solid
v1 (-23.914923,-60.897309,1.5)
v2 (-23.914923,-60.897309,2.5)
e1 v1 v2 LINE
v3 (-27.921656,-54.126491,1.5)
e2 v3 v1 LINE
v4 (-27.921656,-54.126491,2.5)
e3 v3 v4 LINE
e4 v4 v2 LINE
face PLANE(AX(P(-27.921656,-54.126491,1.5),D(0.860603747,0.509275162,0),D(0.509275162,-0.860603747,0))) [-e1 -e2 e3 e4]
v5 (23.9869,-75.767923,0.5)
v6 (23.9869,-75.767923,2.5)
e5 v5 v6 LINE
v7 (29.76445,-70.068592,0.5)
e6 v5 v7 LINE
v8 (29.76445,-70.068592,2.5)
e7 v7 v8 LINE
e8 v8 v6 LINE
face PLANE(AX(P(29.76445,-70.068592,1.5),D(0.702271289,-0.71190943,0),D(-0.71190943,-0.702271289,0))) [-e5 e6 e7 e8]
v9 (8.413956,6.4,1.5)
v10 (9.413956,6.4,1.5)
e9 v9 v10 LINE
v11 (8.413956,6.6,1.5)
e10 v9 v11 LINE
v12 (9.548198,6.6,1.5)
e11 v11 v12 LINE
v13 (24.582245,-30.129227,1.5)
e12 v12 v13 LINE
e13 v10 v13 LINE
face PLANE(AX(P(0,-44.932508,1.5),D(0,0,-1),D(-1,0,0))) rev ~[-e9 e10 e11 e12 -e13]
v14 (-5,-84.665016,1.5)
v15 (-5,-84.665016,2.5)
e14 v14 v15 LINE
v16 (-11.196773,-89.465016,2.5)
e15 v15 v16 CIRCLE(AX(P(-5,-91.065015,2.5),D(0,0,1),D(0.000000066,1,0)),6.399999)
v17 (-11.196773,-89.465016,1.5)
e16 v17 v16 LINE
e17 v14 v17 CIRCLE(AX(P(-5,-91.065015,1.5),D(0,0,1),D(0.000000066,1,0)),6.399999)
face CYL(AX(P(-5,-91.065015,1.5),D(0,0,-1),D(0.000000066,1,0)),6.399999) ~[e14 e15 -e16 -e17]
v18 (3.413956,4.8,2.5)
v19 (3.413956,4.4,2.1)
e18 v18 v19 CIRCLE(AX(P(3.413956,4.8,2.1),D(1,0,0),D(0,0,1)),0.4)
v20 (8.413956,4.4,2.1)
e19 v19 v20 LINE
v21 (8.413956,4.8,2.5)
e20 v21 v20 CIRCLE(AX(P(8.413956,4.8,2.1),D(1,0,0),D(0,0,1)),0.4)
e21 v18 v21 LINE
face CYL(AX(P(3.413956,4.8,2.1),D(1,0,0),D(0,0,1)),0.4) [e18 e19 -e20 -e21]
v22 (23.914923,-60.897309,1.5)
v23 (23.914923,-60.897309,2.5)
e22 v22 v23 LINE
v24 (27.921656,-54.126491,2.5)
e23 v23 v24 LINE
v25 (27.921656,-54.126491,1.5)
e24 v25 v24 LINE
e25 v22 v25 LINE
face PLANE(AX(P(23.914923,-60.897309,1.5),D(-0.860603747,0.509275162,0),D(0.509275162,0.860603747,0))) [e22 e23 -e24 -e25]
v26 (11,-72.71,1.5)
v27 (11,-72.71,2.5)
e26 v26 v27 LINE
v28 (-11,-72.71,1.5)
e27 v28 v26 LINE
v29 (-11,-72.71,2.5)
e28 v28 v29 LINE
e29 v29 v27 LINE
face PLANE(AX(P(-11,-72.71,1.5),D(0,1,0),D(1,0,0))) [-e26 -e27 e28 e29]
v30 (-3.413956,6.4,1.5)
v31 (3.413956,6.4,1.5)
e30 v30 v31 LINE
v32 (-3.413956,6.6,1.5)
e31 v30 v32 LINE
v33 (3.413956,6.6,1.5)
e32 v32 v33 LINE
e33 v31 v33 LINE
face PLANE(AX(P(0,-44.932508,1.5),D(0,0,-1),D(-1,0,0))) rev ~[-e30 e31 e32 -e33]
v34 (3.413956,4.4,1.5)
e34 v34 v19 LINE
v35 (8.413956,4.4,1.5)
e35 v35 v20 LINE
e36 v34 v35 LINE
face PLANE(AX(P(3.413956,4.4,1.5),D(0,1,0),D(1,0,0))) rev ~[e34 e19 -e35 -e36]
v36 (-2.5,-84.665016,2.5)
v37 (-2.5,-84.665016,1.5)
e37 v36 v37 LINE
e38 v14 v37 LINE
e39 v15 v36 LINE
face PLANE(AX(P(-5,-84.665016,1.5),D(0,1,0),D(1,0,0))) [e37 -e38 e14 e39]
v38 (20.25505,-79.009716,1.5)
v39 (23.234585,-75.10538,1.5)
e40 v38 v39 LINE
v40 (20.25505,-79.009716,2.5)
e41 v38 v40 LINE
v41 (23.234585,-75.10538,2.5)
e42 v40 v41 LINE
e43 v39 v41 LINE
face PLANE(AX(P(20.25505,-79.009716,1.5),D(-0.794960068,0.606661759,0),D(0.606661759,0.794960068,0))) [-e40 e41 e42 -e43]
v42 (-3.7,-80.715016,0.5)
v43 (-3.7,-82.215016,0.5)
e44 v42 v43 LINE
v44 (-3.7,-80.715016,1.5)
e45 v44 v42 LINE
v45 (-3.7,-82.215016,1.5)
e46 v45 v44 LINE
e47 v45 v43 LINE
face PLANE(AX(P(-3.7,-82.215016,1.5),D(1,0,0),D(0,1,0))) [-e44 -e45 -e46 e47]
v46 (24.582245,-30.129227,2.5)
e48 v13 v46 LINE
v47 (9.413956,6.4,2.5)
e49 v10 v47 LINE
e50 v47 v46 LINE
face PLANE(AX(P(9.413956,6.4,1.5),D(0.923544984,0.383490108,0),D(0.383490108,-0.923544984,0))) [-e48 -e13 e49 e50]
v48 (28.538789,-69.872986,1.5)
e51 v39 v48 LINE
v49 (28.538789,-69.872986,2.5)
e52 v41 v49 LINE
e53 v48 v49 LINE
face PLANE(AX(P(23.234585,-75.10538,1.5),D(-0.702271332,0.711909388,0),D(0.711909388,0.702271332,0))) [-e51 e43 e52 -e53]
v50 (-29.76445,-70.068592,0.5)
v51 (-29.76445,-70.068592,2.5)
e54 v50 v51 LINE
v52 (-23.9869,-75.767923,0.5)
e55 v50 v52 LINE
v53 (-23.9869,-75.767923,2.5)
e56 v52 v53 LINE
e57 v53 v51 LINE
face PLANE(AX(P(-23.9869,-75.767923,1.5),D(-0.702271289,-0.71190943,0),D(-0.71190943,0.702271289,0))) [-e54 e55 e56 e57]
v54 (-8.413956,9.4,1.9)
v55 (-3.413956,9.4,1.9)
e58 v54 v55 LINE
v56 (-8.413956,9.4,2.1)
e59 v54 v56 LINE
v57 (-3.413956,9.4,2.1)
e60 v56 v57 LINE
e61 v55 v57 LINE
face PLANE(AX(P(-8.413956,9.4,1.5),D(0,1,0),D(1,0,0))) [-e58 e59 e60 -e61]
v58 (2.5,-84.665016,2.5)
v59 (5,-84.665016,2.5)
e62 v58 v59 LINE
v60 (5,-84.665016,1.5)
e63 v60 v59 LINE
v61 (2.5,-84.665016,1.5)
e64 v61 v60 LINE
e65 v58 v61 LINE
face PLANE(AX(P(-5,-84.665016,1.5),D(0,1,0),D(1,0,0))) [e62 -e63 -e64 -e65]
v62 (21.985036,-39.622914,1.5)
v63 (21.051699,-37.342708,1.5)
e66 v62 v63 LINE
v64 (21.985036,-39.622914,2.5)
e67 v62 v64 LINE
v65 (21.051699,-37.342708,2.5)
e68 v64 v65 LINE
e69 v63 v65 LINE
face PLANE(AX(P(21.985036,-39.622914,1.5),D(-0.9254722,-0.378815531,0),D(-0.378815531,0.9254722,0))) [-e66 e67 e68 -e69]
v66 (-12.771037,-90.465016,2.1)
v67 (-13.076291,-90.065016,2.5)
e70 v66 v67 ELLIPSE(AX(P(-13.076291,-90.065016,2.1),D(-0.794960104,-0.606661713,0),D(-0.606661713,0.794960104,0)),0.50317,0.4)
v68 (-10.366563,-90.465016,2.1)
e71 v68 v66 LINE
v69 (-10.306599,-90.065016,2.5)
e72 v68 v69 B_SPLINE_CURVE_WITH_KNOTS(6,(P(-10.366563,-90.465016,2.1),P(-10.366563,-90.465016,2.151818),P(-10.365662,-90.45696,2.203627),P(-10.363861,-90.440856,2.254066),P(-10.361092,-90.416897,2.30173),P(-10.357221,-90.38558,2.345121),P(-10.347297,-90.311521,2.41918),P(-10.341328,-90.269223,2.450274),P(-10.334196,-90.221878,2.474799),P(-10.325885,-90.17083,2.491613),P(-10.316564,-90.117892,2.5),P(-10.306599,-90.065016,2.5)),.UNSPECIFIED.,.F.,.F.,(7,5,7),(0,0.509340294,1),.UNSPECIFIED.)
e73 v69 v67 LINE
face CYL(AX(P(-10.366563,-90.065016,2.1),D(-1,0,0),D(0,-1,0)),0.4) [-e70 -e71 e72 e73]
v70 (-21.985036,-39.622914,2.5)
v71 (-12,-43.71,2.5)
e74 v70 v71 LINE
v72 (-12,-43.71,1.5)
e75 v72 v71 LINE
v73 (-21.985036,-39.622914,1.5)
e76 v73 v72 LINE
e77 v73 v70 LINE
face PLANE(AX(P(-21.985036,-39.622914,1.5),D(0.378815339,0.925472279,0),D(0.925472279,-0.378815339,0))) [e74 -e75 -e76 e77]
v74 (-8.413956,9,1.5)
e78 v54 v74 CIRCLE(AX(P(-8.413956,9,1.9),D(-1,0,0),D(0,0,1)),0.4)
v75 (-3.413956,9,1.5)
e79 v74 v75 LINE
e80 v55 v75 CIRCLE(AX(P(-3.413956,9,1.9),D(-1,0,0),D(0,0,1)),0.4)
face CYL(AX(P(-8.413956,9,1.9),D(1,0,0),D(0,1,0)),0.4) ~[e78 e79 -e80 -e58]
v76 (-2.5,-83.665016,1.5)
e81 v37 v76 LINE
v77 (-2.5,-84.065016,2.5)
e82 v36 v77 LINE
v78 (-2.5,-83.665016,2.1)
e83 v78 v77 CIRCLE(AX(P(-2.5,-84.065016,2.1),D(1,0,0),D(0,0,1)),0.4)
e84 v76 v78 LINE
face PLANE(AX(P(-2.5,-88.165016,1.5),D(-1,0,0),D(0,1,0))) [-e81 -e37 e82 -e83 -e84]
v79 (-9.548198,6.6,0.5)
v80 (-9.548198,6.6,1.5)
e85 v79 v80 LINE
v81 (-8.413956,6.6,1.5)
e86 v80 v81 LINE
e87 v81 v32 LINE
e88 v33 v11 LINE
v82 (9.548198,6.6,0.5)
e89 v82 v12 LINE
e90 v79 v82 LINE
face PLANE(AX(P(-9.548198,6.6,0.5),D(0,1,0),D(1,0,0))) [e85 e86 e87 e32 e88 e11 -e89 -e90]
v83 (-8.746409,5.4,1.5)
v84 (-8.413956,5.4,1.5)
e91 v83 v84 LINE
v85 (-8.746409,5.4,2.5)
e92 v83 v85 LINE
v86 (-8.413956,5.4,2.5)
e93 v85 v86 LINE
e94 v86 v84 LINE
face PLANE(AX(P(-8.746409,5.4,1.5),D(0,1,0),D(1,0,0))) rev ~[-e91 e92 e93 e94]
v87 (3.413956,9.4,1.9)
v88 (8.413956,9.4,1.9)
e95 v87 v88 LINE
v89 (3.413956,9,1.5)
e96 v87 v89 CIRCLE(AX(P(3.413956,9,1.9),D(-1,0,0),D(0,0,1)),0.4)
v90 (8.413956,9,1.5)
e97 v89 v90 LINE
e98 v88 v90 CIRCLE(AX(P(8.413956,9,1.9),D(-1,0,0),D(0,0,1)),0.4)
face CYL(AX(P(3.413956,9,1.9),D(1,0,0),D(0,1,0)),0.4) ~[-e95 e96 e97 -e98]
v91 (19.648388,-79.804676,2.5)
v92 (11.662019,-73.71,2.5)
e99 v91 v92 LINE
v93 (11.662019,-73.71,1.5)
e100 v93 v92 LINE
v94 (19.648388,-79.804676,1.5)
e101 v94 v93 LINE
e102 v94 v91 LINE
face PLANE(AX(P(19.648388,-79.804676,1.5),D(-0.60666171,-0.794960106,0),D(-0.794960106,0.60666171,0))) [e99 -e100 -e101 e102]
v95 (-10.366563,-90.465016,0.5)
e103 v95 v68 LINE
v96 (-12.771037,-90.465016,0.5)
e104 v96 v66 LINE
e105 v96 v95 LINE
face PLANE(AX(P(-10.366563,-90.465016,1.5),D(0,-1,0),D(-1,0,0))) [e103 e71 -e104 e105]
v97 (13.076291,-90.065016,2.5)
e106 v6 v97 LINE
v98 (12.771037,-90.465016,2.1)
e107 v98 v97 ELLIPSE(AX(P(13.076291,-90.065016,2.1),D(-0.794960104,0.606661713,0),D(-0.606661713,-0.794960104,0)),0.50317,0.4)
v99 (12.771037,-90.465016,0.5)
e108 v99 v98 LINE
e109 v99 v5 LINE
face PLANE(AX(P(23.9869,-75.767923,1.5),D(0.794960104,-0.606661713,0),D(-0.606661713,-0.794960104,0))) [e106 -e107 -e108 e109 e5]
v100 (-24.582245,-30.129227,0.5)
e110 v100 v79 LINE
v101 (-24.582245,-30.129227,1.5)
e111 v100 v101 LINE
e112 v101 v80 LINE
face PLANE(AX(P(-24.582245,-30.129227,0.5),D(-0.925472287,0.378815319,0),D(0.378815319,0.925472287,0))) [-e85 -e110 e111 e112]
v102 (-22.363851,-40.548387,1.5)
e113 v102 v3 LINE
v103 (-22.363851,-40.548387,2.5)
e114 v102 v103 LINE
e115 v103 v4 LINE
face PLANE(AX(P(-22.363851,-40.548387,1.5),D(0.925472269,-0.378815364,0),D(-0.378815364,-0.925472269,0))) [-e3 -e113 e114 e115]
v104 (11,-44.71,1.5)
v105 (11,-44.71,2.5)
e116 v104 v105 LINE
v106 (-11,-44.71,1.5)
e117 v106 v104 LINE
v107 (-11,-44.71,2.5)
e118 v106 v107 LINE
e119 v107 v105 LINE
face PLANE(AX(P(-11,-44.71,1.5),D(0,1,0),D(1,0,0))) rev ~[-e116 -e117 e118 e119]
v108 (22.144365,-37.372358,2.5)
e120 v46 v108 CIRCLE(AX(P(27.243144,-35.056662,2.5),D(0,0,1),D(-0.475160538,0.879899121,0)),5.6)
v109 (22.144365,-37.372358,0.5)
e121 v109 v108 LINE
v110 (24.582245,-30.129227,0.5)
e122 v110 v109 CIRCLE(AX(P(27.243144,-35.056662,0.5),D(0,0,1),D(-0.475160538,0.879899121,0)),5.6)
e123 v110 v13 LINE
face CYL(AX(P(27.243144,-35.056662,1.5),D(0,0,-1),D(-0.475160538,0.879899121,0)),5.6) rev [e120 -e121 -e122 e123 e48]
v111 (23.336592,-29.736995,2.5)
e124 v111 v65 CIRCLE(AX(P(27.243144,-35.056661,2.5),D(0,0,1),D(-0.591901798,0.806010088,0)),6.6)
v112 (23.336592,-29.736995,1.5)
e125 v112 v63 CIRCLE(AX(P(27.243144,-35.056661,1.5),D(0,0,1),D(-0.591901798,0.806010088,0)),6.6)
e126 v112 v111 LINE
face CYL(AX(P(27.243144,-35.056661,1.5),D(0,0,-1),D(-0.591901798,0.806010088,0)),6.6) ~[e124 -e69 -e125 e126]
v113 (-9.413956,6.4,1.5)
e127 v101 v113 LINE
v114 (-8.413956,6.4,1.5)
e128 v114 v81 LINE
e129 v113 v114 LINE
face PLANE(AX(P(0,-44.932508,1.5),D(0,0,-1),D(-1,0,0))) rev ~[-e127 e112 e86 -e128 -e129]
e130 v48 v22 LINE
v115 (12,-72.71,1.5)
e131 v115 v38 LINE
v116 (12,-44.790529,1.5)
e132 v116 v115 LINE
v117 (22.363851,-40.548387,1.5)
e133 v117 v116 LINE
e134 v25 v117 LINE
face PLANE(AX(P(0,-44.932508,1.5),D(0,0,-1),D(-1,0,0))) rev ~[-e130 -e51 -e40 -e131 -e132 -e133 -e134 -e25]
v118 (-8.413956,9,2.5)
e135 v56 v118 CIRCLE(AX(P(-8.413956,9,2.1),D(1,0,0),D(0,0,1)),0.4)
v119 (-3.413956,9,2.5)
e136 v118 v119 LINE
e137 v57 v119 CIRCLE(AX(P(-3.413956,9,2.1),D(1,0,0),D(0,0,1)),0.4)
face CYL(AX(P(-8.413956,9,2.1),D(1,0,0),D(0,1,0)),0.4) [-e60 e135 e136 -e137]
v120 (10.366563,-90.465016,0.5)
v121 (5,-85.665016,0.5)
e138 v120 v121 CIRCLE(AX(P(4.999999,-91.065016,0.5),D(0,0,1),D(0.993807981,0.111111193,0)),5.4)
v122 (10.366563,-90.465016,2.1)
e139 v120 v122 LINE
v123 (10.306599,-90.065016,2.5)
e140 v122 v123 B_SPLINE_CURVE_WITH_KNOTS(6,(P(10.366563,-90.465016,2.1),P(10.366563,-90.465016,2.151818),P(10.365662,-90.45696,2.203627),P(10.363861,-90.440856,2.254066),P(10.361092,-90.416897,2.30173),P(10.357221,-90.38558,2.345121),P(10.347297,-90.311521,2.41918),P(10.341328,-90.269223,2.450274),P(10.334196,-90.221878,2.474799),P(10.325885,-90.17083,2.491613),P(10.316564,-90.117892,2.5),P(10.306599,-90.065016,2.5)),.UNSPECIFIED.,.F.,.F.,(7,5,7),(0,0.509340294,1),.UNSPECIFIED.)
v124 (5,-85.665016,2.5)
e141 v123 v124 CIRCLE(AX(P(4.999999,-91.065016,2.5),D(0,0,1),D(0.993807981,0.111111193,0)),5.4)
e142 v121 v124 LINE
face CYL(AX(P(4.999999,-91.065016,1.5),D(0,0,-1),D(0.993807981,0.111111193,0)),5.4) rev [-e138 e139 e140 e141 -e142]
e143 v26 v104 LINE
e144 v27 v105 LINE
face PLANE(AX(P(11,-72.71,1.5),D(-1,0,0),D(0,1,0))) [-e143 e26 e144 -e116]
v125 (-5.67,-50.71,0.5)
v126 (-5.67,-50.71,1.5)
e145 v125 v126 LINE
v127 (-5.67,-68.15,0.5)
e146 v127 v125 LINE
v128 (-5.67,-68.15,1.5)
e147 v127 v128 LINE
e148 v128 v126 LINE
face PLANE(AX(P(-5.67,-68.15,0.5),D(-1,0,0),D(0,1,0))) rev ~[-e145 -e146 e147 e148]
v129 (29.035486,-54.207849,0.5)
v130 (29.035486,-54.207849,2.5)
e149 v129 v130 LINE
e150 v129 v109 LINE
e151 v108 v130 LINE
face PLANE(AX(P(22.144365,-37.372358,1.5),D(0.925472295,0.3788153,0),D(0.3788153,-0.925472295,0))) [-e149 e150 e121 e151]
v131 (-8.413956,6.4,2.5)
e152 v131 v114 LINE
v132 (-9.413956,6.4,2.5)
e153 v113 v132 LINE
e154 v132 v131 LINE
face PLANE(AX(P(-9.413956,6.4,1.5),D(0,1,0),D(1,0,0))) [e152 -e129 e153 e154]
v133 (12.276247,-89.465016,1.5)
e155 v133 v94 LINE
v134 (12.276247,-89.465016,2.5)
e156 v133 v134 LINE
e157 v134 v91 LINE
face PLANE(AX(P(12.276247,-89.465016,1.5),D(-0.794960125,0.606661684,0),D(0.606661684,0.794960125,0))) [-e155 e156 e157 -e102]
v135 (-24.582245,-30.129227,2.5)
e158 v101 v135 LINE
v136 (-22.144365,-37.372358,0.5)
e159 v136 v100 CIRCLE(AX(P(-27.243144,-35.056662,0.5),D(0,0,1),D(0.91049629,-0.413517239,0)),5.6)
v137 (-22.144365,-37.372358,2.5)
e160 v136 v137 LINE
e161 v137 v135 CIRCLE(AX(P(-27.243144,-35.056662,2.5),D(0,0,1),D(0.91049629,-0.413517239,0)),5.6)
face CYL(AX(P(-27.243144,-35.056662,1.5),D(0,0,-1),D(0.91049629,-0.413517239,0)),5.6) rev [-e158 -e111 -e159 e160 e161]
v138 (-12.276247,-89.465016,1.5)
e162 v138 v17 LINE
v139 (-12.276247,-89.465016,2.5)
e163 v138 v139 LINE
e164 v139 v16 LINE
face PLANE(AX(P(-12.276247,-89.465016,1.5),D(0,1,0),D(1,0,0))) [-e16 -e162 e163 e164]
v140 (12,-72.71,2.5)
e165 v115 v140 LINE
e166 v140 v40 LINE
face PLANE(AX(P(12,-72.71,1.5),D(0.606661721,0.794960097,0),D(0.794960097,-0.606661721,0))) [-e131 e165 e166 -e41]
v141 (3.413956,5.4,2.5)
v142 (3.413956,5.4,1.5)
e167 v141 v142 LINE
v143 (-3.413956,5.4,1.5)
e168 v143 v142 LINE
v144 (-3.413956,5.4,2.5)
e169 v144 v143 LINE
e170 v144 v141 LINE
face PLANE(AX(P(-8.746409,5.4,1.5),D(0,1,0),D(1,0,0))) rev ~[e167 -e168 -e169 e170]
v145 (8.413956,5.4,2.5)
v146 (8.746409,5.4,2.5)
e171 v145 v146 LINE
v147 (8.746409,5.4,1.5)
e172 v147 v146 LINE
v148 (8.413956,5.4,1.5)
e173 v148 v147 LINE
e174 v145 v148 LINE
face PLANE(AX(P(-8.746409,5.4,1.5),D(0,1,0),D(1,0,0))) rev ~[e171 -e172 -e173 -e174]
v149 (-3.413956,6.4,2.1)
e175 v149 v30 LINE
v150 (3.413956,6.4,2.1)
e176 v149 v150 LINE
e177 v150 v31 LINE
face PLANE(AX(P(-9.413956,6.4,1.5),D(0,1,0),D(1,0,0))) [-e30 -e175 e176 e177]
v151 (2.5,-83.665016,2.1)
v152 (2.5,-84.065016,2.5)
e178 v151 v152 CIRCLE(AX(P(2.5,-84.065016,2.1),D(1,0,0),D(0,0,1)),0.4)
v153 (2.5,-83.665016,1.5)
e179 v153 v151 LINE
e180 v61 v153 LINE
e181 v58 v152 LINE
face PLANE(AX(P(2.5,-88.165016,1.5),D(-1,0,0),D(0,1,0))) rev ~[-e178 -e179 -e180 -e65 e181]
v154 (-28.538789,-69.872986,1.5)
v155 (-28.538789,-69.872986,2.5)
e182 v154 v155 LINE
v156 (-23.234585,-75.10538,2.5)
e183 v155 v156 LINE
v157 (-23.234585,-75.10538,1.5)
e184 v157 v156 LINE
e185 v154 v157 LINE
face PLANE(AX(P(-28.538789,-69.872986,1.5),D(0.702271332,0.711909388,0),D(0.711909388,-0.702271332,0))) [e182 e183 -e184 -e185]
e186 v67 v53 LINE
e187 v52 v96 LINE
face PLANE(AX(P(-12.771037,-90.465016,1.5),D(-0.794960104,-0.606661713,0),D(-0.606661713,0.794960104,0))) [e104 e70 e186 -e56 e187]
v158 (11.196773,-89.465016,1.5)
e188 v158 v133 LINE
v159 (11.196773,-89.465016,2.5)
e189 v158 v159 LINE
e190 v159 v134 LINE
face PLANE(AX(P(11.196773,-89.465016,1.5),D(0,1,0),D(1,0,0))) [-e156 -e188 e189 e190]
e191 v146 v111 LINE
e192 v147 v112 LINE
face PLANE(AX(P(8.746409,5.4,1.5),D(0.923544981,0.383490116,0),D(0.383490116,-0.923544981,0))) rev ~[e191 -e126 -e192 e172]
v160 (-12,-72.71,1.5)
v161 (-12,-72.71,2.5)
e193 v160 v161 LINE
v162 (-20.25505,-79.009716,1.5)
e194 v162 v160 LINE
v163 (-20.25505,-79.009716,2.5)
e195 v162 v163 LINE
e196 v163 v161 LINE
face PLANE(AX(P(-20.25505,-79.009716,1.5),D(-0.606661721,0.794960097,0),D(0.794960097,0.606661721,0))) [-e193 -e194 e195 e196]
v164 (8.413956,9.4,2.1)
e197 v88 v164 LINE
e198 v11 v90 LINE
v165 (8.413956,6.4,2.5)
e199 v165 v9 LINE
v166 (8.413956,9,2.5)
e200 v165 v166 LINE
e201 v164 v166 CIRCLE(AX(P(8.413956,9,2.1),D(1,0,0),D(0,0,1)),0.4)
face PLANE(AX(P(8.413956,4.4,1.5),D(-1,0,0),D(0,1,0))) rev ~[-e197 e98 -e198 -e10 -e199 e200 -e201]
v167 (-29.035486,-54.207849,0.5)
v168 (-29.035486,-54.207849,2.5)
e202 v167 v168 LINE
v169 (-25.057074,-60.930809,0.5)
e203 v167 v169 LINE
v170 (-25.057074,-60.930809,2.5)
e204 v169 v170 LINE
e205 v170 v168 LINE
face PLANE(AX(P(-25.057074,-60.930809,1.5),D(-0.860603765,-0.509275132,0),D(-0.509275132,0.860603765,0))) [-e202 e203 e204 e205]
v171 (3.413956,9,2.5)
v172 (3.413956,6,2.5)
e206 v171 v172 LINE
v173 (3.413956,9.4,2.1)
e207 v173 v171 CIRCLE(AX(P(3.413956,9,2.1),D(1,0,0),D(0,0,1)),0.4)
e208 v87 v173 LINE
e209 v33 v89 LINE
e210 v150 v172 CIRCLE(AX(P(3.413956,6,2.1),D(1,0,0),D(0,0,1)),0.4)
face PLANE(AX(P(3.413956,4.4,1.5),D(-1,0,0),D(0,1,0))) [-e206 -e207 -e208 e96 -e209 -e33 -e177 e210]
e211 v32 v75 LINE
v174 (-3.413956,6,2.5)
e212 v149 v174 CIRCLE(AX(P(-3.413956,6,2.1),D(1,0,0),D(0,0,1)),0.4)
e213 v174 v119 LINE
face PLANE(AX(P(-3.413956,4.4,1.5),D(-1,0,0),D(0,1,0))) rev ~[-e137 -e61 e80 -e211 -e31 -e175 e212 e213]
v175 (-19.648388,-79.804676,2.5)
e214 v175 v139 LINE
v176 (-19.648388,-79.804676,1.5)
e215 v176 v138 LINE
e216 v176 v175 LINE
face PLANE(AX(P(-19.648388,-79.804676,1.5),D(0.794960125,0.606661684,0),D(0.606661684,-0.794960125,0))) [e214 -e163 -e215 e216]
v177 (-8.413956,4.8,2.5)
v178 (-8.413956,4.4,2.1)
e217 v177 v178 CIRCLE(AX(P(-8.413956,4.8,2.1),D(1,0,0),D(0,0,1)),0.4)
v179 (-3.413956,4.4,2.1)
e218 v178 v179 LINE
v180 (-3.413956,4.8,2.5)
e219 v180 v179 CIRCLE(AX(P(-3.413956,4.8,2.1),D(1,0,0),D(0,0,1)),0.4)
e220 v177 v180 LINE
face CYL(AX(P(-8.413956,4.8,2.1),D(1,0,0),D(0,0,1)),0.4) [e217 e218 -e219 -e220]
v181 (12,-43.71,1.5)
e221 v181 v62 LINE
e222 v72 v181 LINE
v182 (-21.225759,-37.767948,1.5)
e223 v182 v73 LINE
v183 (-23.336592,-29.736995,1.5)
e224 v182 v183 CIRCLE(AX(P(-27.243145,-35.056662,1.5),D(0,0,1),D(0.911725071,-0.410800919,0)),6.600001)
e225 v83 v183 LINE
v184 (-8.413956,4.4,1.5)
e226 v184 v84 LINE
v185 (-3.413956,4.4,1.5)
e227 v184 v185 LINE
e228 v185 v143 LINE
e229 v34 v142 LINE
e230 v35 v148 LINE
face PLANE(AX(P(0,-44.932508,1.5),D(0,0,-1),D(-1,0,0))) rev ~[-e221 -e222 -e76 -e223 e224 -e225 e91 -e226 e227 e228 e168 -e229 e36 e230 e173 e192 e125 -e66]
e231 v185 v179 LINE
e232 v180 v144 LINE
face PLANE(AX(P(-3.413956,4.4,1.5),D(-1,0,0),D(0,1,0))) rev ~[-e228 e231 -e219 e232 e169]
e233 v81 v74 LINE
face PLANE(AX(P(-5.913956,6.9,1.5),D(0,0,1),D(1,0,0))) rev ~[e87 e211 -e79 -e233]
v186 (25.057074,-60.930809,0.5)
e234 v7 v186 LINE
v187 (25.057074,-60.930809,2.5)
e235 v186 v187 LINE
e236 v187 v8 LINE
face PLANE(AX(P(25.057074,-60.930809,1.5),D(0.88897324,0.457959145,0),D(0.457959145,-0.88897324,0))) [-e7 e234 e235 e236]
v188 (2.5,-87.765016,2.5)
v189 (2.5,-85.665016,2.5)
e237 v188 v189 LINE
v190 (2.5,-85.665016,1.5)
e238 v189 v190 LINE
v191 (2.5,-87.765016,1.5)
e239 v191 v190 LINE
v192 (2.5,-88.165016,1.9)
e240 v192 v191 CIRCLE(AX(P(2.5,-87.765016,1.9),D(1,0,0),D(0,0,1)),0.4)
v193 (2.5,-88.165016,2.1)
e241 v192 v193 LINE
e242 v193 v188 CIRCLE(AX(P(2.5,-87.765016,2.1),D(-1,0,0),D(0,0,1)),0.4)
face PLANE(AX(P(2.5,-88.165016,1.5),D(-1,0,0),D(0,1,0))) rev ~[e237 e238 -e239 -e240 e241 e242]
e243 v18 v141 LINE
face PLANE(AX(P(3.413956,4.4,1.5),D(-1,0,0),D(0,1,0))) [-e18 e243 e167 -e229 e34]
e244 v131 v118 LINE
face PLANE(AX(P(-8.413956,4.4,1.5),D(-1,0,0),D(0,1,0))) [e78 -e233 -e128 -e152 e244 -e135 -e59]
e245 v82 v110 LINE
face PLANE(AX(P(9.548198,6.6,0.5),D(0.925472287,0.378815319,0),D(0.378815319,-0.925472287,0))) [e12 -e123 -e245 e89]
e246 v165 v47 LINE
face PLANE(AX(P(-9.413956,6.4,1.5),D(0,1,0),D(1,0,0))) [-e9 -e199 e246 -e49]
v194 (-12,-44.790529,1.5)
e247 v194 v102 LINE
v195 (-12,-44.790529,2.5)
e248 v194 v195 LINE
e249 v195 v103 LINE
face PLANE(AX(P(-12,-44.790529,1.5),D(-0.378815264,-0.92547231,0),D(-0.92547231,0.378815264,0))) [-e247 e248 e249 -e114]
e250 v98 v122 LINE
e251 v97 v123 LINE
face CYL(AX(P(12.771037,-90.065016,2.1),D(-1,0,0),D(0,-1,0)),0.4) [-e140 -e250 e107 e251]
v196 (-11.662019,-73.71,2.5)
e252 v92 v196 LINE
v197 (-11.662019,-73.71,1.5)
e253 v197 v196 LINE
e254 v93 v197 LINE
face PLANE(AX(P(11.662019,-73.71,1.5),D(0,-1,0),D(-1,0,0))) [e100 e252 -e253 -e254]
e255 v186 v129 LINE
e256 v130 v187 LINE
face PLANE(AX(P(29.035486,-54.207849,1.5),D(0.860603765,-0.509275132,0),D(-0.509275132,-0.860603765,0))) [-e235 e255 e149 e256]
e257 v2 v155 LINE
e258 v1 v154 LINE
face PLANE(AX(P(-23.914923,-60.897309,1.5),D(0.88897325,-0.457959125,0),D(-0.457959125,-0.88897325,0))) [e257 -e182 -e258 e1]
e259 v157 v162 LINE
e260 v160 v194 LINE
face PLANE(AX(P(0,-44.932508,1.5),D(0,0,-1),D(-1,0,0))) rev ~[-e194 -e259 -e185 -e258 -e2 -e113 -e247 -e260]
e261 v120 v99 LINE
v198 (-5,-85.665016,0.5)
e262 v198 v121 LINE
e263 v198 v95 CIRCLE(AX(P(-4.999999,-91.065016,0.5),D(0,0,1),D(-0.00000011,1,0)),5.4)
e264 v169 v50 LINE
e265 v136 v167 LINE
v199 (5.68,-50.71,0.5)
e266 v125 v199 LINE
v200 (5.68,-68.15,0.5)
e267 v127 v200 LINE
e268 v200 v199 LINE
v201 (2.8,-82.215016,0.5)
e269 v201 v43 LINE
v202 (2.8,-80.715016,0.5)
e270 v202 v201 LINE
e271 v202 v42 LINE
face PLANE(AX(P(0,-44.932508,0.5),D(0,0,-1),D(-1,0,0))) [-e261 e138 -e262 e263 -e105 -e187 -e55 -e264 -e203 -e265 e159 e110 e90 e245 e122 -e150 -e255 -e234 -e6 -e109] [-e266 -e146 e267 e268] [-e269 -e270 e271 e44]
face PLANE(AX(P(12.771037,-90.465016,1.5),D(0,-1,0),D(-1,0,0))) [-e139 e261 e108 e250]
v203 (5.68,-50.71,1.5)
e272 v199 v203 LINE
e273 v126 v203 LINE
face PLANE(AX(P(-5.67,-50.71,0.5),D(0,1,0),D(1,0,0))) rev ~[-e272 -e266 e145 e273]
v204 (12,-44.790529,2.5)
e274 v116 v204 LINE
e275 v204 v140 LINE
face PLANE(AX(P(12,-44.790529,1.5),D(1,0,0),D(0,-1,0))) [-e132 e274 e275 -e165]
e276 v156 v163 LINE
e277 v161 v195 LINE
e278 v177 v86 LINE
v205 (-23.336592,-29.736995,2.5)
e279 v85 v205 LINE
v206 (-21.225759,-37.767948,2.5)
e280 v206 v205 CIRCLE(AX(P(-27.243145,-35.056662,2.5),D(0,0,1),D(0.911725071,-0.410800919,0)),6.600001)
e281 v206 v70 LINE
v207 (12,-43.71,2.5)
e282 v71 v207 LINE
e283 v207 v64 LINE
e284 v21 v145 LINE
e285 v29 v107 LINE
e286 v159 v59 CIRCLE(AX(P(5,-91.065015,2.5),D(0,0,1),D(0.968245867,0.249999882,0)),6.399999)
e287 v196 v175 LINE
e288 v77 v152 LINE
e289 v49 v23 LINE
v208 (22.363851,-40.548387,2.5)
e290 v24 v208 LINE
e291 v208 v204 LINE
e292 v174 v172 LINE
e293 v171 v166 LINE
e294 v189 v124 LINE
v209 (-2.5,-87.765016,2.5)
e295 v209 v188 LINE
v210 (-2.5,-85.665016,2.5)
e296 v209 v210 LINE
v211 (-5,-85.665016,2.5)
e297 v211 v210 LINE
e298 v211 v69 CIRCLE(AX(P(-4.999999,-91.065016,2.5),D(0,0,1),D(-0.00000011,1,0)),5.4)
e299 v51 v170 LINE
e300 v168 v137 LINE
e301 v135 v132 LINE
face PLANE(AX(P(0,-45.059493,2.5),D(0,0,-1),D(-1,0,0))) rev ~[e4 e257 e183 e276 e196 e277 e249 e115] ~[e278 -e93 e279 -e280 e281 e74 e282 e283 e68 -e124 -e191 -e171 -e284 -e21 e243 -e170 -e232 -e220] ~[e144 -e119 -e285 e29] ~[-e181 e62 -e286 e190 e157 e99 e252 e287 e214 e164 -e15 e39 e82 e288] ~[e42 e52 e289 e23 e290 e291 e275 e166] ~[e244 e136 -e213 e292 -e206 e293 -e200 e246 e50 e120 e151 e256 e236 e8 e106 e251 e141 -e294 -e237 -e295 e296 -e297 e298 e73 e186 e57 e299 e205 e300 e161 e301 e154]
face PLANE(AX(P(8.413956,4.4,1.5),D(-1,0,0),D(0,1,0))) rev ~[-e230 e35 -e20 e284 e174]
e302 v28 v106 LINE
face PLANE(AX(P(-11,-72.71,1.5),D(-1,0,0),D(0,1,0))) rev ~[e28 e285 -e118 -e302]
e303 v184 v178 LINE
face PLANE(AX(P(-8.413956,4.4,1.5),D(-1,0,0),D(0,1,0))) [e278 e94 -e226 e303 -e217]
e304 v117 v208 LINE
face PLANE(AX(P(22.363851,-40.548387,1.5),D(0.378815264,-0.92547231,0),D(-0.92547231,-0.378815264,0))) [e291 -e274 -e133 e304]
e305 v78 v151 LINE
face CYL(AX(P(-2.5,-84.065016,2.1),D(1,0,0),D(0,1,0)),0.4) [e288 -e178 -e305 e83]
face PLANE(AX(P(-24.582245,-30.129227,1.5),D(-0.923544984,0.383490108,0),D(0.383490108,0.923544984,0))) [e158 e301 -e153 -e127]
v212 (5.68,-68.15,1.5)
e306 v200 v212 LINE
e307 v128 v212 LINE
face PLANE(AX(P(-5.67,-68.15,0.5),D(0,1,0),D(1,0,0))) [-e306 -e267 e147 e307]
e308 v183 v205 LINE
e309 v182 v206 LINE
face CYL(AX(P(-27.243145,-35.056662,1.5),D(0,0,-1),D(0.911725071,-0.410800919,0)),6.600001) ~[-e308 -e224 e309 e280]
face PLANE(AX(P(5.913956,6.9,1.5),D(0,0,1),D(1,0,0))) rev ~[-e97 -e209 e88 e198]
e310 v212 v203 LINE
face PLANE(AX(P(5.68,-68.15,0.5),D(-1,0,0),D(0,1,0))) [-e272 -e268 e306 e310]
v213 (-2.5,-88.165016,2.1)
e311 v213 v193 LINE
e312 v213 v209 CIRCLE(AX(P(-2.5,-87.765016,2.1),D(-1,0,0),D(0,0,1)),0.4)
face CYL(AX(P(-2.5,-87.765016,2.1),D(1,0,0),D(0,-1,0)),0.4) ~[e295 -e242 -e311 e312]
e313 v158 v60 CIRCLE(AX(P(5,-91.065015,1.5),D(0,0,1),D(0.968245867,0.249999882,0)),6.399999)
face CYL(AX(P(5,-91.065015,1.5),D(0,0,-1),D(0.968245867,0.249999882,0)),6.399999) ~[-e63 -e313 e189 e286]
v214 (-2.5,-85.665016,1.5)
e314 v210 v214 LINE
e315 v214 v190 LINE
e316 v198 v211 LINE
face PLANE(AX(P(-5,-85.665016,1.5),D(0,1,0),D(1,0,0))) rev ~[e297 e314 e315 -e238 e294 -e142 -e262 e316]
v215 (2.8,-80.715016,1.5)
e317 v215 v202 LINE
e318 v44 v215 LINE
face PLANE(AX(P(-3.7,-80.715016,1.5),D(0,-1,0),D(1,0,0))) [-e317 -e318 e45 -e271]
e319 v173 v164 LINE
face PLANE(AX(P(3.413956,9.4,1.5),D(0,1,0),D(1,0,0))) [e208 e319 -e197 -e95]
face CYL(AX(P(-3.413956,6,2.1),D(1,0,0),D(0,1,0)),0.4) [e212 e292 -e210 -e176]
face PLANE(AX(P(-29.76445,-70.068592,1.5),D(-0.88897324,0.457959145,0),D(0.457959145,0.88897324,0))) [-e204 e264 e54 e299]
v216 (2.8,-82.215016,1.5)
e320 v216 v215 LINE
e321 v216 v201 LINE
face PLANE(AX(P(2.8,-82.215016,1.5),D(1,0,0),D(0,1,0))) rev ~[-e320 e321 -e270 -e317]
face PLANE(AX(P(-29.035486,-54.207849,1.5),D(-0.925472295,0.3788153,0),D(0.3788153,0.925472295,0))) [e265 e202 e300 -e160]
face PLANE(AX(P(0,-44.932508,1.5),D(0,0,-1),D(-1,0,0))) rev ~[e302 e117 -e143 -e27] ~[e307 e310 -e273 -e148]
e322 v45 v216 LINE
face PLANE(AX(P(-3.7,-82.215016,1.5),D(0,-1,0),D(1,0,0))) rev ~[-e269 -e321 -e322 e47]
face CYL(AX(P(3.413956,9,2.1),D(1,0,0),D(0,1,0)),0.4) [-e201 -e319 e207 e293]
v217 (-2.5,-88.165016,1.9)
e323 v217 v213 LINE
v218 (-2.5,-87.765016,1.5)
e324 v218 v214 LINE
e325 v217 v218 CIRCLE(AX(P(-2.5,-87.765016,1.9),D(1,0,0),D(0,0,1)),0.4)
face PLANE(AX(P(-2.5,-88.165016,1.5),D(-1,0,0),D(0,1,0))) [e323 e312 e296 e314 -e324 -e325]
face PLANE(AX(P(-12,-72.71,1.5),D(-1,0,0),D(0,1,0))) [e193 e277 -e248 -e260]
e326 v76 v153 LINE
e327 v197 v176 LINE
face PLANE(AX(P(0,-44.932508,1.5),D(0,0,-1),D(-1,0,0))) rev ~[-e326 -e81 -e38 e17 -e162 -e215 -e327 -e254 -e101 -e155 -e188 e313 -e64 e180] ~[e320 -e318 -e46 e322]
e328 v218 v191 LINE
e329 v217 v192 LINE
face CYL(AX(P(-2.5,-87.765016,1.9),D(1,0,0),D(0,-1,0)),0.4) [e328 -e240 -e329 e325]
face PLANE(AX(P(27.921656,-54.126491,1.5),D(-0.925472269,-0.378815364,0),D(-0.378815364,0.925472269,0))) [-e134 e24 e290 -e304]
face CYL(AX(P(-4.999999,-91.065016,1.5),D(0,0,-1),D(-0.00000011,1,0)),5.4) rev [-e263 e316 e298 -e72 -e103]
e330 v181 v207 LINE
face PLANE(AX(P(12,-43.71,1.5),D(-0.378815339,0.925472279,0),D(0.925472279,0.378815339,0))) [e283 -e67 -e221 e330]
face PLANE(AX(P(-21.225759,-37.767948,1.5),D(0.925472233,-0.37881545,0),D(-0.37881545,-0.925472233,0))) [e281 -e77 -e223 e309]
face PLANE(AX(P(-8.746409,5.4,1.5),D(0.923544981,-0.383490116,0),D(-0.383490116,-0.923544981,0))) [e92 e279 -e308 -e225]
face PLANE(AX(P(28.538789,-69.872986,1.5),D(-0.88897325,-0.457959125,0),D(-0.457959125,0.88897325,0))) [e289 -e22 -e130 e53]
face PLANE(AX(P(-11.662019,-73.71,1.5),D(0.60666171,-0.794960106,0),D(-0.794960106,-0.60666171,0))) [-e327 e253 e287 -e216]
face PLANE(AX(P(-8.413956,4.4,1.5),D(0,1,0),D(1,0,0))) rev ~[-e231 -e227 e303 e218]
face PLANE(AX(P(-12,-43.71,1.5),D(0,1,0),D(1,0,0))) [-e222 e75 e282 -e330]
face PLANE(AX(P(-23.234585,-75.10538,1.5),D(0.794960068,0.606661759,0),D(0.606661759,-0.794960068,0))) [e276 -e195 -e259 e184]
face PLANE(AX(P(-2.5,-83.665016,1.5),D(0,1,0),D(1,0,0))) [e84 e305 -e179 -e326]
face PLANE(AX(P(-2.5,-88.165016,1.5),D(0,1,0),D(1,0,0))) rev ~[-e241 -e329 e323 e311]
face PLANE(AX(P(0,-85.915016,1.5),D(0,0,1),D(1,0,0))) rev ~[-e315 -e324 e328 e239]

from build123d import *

# Parameters (mm, degrees)
SKETCH070_W     = 11.35
SKETCH070_H     = 17.44
PAD008_DEPTH    = 1
SKETCH071_W     = 5
SKETCH071_H     = 5
SKETCH071_H_2   = 4.5
PAD009_DEPTH    = 1
SKETCH077_W     = 6.5
SKETCH077_H     = 1.5
POCKET030_DEPTH = 5
SKETCH090_W     = 22
SKETCH090_H     = 28
PAD021_DEPTH    = 1
FILLET016_R     = 0.4


with BuildPart() as part:
    # Sketch070 → Pad008 (new body)
    with BuildSketch(Plane.XY):
        with BuildLine():
            Line((-9.548198, 6.6), (9.548198, 6.6))
            Line((9.548198, 6.6), (24.582245, -30.129227))
            ThreePointArc((24.582245, -30.129227), (21.935707, -33.270294), (22.144365, -37.372358))
            Line((29.035486, -54.207849), (22.144365, -37.372358))
            Line((25.057074, -60.930809), (29.035486, -54.207849))
            Line((29.76445, -70.068592), (25.057074, -60.930809))
            Line((23.9869, -75.767923), (29.76445, -70.068592))
            Line((12.771037, -90.465016), (23.9869, -75.767923))
            Line((10.366563, -90.465016), (12.771037, -90.465016))
            ThreePointArc((10.366563, -90.465016), (8.6, -87.040094), (5, -85.665016))
            Line((-5, -85.665016), (5, -85.665016))
            ThreePointArc((-5, -85.665016), (-8.6, -87.040094), (-10.366563, -90.465016))
            Line((-12.771037, -90.465016), (-10.366563, -90.465016))
            Line((-23.9869, -75.767923), (-12.771037, -90.465016))
            Line((-29.76445, -70.068592), (-23.9869, -75.767923))
            Line((-25.057074, -60.930809), (-29.76445, -70.068592))
            Line((-29.035486, -54.207849), (-25.057074, -60.930809))
            Line((-22.144365, -37.372358), (-29.035486, -54.207849))
            ThreePointArc((-22.144365, -37.372358), (-21.935707, -33.270294), (-24.582245, -30.129227))
            Line((-24.582245, -30.129227), (-9.548198, 6.6))
        make_face()
        with Locations((0.005, -59.43)):
            Rectangle(SKETCH070_W, SKETCH070_H, mode=Mode.SUBTRACT)
    extrude(amount=PAD008_DEPTH)

    # Sketch071 (on Face26 of Pad008) → Pad009 (join)
    with BuildSketch(Plane.XY.offset(1)):
        with Locations((-5.913956, 6.9)):
            Rectangle(SKETCH071_W, SKETCH071_H)
        with Locations((5.913956, 6.9)):
            Rectangle(SKETCH071_W, SKETCH071_H)
        with Locations((0, -85.915016)):
            Rectangle(SKETCH071_W, SKETCH071_H_2)
    extrude(amount=PAD009_DEPTH)

    # Sketch077 (on Face5 of Pad009) → Pocket030 (cut)
    with BuildSketch(Plane.XY.offset(1)):
        with Locations((-0.45, -81.465016)):
            Rectangle(SKETCH077_W, SKETCH077_H)
    extrude(amount=-POCKET030_DEPTH, mode=Mode.SUBTRACT)

    # Sketch090 (on Face5 of Pocket030) → Pad021 (join)
    with BuildSketch(Plane.XY.offset(1)):
        with BuildLine():
            Line((-9.413956, 6.4), (9.413956, 6.4))
            Line((9.413956, 6.4), (24.582245, -30.129227))
            ThreePointArc((24.582245, -30.129227), (21.935707, -33.270294), (22.144365, -37.372358))
            Line((22.144365, -37.372358), (29.035486, -54.207849))
            Line((29.035486, -54.207849), (25.057074, -60.930809))
            Line((25.057074, -60.930809), (29.76445, -70.068592))
            Line((29.76445, -70.068592), (23.9869, -75.767923))
            Line((23.9869, -75.767923), (12.771037, -90.465016))
            Line((12.771037, -90.465016), (10.366563, -90.465016))
            ThreePointArc((10.366563, -90.465016), (8.6, -87.040094), (5, -85.665016))
            Line((-5, -85.665016), (5, -85.665016))
            ThreePointArc((-5, -85.665016), (-8.6, -87.040094), (-10.366563, -90.465016))
            Line((-10.366563, -90.465016), (-12.771037, -90.465016))
            Line((-12.771037, -90.465016), (-23.9869, -75.767923))
            Line((-23.9869, -75.767923), (-29.76445, -70.068592))
            Line((-29.76445, -70.068592), (-25.057074, -60.930809))
            Line((-25.057074, -60.930809), (-29.035486, -54.207849))
            Line((-29.035486, -54.207849), (-22.144365, -37.372358))
            ThreePointArc((-22.144365, -37.372358), (-21.935707, -33.270294), (-24.582245, -30.129227))
            Line((-24.582245, -30.129227), (-9.413956, 6.4))
        make_face()
        with BuildLine():
            Line((-8.746409, 5.4), (8.746409, 5.4))
            Line((8.746409, 5.4), (23.336592, -29.736995))
            ThreePointArc((23.336592, -29.736995), (20.922218, -33.157742), (21.051699, -37.342708))
            Line((21.985036, -39.622914), (21.051699, -37.342708))
            Line((12, -43.71), (21.985036, -39.622914))
            Line((-12, -43.71), (12, -43.71))
            Line((-21.985036, -39.622914), (-12, -43.71))
            Line((-21.225759, -37.767948), (-21.985036, -39.622914))
            ThreePointArc((-21.225759, -37.767948), (-20.859949, -33.37892), (-23.336592, -29.736995))
            Line((-8.746409, 5.4), (-23.336592, -29.736995))
        make_face(mode=Mode.SUBTRACT)
        Polygon((-27.921656, -54.126491), (-23.914923, -60.897309), (-28.538789, -69.872986), (-23.234585, -75.10538), (-20.25505, -79.009716), (-12, -72.71), (-12, -44.790529), (-22.363851, -40.548387), align=None, mode=Mode.SUBTRACT)
        with BuildLine():
            Line((12.276247, -89.465016), (19.648388, -79.804676))
            Line((19.648388, -79.804676), (11.662019, -73.71))
            Line((11.662019, -73.71), (-11.662019, -73.71))
            Line((-11.662019, -73.71), (-19.648388, -79.804676))
            Line((-19.648388, -79.804676), (-12.276247, -89.465016))
            Line((-12.276247, -89.465016), (-11.196773, -89.465016))
            ThreePointArc((-5, -84.665016), (-8.919184, -86.005372), (-11.196773, -89.465016))
            Line((-5, -84.665016), (5, -84.665016))
            ThreePointArc((11.196773, -89.465016), (8.919184, -86.005372), (5, -84.665016))
            Line((11.196773, -89.465016), (12.276247, -89.465016))
        make_face(mode=Mode.SUBTRACT)
        Polygon((23.234585, -75.10538), (28.538789, -69.872986), (23.914923, -60.897309), (27.921656, -54.126491), (22.363851, -40.548387), (12, -44.790529), (12, -72.71), (20.25505, -79.009716), align=None, mode=Mode.SUBTRACT)
        with Locations((0, -58.71)):
            Rectangle(SKETCH090_W, SKETCH090_H, mode=Mode.SUBTRACT)
    extrude(amount=PAD021_DEPTH)

    # Fillet016
    fillet016_edges = [part.edges().sort_by_distance(p)[0] for p in [
        (0, -88.165016, 2),
        (0, -88.165016, 1),
        (0, -83.665016, 2),
        (-5.913956, 4.4, 2),
        (5.913956, 4.4, 2),
        (5.913956, 9.4, 2),
        (-5.913956, 9.4, 2),
        (-5.913956, 9.4, 1),
        (5.913956, 9.4, 1),
        (-11.5688, -90.465016, 2),
        (11.5688, -90.465016, 2),
        (0, 6.4, 2),
    ]]
    fillet(fillet016_edges, radius=FILLET016_R)


with BuildPart() as part_1:
    # Body005 placement: moved
    add(part.part.moved(Location((0, 0, 0.5))))


solid = part_1.part
